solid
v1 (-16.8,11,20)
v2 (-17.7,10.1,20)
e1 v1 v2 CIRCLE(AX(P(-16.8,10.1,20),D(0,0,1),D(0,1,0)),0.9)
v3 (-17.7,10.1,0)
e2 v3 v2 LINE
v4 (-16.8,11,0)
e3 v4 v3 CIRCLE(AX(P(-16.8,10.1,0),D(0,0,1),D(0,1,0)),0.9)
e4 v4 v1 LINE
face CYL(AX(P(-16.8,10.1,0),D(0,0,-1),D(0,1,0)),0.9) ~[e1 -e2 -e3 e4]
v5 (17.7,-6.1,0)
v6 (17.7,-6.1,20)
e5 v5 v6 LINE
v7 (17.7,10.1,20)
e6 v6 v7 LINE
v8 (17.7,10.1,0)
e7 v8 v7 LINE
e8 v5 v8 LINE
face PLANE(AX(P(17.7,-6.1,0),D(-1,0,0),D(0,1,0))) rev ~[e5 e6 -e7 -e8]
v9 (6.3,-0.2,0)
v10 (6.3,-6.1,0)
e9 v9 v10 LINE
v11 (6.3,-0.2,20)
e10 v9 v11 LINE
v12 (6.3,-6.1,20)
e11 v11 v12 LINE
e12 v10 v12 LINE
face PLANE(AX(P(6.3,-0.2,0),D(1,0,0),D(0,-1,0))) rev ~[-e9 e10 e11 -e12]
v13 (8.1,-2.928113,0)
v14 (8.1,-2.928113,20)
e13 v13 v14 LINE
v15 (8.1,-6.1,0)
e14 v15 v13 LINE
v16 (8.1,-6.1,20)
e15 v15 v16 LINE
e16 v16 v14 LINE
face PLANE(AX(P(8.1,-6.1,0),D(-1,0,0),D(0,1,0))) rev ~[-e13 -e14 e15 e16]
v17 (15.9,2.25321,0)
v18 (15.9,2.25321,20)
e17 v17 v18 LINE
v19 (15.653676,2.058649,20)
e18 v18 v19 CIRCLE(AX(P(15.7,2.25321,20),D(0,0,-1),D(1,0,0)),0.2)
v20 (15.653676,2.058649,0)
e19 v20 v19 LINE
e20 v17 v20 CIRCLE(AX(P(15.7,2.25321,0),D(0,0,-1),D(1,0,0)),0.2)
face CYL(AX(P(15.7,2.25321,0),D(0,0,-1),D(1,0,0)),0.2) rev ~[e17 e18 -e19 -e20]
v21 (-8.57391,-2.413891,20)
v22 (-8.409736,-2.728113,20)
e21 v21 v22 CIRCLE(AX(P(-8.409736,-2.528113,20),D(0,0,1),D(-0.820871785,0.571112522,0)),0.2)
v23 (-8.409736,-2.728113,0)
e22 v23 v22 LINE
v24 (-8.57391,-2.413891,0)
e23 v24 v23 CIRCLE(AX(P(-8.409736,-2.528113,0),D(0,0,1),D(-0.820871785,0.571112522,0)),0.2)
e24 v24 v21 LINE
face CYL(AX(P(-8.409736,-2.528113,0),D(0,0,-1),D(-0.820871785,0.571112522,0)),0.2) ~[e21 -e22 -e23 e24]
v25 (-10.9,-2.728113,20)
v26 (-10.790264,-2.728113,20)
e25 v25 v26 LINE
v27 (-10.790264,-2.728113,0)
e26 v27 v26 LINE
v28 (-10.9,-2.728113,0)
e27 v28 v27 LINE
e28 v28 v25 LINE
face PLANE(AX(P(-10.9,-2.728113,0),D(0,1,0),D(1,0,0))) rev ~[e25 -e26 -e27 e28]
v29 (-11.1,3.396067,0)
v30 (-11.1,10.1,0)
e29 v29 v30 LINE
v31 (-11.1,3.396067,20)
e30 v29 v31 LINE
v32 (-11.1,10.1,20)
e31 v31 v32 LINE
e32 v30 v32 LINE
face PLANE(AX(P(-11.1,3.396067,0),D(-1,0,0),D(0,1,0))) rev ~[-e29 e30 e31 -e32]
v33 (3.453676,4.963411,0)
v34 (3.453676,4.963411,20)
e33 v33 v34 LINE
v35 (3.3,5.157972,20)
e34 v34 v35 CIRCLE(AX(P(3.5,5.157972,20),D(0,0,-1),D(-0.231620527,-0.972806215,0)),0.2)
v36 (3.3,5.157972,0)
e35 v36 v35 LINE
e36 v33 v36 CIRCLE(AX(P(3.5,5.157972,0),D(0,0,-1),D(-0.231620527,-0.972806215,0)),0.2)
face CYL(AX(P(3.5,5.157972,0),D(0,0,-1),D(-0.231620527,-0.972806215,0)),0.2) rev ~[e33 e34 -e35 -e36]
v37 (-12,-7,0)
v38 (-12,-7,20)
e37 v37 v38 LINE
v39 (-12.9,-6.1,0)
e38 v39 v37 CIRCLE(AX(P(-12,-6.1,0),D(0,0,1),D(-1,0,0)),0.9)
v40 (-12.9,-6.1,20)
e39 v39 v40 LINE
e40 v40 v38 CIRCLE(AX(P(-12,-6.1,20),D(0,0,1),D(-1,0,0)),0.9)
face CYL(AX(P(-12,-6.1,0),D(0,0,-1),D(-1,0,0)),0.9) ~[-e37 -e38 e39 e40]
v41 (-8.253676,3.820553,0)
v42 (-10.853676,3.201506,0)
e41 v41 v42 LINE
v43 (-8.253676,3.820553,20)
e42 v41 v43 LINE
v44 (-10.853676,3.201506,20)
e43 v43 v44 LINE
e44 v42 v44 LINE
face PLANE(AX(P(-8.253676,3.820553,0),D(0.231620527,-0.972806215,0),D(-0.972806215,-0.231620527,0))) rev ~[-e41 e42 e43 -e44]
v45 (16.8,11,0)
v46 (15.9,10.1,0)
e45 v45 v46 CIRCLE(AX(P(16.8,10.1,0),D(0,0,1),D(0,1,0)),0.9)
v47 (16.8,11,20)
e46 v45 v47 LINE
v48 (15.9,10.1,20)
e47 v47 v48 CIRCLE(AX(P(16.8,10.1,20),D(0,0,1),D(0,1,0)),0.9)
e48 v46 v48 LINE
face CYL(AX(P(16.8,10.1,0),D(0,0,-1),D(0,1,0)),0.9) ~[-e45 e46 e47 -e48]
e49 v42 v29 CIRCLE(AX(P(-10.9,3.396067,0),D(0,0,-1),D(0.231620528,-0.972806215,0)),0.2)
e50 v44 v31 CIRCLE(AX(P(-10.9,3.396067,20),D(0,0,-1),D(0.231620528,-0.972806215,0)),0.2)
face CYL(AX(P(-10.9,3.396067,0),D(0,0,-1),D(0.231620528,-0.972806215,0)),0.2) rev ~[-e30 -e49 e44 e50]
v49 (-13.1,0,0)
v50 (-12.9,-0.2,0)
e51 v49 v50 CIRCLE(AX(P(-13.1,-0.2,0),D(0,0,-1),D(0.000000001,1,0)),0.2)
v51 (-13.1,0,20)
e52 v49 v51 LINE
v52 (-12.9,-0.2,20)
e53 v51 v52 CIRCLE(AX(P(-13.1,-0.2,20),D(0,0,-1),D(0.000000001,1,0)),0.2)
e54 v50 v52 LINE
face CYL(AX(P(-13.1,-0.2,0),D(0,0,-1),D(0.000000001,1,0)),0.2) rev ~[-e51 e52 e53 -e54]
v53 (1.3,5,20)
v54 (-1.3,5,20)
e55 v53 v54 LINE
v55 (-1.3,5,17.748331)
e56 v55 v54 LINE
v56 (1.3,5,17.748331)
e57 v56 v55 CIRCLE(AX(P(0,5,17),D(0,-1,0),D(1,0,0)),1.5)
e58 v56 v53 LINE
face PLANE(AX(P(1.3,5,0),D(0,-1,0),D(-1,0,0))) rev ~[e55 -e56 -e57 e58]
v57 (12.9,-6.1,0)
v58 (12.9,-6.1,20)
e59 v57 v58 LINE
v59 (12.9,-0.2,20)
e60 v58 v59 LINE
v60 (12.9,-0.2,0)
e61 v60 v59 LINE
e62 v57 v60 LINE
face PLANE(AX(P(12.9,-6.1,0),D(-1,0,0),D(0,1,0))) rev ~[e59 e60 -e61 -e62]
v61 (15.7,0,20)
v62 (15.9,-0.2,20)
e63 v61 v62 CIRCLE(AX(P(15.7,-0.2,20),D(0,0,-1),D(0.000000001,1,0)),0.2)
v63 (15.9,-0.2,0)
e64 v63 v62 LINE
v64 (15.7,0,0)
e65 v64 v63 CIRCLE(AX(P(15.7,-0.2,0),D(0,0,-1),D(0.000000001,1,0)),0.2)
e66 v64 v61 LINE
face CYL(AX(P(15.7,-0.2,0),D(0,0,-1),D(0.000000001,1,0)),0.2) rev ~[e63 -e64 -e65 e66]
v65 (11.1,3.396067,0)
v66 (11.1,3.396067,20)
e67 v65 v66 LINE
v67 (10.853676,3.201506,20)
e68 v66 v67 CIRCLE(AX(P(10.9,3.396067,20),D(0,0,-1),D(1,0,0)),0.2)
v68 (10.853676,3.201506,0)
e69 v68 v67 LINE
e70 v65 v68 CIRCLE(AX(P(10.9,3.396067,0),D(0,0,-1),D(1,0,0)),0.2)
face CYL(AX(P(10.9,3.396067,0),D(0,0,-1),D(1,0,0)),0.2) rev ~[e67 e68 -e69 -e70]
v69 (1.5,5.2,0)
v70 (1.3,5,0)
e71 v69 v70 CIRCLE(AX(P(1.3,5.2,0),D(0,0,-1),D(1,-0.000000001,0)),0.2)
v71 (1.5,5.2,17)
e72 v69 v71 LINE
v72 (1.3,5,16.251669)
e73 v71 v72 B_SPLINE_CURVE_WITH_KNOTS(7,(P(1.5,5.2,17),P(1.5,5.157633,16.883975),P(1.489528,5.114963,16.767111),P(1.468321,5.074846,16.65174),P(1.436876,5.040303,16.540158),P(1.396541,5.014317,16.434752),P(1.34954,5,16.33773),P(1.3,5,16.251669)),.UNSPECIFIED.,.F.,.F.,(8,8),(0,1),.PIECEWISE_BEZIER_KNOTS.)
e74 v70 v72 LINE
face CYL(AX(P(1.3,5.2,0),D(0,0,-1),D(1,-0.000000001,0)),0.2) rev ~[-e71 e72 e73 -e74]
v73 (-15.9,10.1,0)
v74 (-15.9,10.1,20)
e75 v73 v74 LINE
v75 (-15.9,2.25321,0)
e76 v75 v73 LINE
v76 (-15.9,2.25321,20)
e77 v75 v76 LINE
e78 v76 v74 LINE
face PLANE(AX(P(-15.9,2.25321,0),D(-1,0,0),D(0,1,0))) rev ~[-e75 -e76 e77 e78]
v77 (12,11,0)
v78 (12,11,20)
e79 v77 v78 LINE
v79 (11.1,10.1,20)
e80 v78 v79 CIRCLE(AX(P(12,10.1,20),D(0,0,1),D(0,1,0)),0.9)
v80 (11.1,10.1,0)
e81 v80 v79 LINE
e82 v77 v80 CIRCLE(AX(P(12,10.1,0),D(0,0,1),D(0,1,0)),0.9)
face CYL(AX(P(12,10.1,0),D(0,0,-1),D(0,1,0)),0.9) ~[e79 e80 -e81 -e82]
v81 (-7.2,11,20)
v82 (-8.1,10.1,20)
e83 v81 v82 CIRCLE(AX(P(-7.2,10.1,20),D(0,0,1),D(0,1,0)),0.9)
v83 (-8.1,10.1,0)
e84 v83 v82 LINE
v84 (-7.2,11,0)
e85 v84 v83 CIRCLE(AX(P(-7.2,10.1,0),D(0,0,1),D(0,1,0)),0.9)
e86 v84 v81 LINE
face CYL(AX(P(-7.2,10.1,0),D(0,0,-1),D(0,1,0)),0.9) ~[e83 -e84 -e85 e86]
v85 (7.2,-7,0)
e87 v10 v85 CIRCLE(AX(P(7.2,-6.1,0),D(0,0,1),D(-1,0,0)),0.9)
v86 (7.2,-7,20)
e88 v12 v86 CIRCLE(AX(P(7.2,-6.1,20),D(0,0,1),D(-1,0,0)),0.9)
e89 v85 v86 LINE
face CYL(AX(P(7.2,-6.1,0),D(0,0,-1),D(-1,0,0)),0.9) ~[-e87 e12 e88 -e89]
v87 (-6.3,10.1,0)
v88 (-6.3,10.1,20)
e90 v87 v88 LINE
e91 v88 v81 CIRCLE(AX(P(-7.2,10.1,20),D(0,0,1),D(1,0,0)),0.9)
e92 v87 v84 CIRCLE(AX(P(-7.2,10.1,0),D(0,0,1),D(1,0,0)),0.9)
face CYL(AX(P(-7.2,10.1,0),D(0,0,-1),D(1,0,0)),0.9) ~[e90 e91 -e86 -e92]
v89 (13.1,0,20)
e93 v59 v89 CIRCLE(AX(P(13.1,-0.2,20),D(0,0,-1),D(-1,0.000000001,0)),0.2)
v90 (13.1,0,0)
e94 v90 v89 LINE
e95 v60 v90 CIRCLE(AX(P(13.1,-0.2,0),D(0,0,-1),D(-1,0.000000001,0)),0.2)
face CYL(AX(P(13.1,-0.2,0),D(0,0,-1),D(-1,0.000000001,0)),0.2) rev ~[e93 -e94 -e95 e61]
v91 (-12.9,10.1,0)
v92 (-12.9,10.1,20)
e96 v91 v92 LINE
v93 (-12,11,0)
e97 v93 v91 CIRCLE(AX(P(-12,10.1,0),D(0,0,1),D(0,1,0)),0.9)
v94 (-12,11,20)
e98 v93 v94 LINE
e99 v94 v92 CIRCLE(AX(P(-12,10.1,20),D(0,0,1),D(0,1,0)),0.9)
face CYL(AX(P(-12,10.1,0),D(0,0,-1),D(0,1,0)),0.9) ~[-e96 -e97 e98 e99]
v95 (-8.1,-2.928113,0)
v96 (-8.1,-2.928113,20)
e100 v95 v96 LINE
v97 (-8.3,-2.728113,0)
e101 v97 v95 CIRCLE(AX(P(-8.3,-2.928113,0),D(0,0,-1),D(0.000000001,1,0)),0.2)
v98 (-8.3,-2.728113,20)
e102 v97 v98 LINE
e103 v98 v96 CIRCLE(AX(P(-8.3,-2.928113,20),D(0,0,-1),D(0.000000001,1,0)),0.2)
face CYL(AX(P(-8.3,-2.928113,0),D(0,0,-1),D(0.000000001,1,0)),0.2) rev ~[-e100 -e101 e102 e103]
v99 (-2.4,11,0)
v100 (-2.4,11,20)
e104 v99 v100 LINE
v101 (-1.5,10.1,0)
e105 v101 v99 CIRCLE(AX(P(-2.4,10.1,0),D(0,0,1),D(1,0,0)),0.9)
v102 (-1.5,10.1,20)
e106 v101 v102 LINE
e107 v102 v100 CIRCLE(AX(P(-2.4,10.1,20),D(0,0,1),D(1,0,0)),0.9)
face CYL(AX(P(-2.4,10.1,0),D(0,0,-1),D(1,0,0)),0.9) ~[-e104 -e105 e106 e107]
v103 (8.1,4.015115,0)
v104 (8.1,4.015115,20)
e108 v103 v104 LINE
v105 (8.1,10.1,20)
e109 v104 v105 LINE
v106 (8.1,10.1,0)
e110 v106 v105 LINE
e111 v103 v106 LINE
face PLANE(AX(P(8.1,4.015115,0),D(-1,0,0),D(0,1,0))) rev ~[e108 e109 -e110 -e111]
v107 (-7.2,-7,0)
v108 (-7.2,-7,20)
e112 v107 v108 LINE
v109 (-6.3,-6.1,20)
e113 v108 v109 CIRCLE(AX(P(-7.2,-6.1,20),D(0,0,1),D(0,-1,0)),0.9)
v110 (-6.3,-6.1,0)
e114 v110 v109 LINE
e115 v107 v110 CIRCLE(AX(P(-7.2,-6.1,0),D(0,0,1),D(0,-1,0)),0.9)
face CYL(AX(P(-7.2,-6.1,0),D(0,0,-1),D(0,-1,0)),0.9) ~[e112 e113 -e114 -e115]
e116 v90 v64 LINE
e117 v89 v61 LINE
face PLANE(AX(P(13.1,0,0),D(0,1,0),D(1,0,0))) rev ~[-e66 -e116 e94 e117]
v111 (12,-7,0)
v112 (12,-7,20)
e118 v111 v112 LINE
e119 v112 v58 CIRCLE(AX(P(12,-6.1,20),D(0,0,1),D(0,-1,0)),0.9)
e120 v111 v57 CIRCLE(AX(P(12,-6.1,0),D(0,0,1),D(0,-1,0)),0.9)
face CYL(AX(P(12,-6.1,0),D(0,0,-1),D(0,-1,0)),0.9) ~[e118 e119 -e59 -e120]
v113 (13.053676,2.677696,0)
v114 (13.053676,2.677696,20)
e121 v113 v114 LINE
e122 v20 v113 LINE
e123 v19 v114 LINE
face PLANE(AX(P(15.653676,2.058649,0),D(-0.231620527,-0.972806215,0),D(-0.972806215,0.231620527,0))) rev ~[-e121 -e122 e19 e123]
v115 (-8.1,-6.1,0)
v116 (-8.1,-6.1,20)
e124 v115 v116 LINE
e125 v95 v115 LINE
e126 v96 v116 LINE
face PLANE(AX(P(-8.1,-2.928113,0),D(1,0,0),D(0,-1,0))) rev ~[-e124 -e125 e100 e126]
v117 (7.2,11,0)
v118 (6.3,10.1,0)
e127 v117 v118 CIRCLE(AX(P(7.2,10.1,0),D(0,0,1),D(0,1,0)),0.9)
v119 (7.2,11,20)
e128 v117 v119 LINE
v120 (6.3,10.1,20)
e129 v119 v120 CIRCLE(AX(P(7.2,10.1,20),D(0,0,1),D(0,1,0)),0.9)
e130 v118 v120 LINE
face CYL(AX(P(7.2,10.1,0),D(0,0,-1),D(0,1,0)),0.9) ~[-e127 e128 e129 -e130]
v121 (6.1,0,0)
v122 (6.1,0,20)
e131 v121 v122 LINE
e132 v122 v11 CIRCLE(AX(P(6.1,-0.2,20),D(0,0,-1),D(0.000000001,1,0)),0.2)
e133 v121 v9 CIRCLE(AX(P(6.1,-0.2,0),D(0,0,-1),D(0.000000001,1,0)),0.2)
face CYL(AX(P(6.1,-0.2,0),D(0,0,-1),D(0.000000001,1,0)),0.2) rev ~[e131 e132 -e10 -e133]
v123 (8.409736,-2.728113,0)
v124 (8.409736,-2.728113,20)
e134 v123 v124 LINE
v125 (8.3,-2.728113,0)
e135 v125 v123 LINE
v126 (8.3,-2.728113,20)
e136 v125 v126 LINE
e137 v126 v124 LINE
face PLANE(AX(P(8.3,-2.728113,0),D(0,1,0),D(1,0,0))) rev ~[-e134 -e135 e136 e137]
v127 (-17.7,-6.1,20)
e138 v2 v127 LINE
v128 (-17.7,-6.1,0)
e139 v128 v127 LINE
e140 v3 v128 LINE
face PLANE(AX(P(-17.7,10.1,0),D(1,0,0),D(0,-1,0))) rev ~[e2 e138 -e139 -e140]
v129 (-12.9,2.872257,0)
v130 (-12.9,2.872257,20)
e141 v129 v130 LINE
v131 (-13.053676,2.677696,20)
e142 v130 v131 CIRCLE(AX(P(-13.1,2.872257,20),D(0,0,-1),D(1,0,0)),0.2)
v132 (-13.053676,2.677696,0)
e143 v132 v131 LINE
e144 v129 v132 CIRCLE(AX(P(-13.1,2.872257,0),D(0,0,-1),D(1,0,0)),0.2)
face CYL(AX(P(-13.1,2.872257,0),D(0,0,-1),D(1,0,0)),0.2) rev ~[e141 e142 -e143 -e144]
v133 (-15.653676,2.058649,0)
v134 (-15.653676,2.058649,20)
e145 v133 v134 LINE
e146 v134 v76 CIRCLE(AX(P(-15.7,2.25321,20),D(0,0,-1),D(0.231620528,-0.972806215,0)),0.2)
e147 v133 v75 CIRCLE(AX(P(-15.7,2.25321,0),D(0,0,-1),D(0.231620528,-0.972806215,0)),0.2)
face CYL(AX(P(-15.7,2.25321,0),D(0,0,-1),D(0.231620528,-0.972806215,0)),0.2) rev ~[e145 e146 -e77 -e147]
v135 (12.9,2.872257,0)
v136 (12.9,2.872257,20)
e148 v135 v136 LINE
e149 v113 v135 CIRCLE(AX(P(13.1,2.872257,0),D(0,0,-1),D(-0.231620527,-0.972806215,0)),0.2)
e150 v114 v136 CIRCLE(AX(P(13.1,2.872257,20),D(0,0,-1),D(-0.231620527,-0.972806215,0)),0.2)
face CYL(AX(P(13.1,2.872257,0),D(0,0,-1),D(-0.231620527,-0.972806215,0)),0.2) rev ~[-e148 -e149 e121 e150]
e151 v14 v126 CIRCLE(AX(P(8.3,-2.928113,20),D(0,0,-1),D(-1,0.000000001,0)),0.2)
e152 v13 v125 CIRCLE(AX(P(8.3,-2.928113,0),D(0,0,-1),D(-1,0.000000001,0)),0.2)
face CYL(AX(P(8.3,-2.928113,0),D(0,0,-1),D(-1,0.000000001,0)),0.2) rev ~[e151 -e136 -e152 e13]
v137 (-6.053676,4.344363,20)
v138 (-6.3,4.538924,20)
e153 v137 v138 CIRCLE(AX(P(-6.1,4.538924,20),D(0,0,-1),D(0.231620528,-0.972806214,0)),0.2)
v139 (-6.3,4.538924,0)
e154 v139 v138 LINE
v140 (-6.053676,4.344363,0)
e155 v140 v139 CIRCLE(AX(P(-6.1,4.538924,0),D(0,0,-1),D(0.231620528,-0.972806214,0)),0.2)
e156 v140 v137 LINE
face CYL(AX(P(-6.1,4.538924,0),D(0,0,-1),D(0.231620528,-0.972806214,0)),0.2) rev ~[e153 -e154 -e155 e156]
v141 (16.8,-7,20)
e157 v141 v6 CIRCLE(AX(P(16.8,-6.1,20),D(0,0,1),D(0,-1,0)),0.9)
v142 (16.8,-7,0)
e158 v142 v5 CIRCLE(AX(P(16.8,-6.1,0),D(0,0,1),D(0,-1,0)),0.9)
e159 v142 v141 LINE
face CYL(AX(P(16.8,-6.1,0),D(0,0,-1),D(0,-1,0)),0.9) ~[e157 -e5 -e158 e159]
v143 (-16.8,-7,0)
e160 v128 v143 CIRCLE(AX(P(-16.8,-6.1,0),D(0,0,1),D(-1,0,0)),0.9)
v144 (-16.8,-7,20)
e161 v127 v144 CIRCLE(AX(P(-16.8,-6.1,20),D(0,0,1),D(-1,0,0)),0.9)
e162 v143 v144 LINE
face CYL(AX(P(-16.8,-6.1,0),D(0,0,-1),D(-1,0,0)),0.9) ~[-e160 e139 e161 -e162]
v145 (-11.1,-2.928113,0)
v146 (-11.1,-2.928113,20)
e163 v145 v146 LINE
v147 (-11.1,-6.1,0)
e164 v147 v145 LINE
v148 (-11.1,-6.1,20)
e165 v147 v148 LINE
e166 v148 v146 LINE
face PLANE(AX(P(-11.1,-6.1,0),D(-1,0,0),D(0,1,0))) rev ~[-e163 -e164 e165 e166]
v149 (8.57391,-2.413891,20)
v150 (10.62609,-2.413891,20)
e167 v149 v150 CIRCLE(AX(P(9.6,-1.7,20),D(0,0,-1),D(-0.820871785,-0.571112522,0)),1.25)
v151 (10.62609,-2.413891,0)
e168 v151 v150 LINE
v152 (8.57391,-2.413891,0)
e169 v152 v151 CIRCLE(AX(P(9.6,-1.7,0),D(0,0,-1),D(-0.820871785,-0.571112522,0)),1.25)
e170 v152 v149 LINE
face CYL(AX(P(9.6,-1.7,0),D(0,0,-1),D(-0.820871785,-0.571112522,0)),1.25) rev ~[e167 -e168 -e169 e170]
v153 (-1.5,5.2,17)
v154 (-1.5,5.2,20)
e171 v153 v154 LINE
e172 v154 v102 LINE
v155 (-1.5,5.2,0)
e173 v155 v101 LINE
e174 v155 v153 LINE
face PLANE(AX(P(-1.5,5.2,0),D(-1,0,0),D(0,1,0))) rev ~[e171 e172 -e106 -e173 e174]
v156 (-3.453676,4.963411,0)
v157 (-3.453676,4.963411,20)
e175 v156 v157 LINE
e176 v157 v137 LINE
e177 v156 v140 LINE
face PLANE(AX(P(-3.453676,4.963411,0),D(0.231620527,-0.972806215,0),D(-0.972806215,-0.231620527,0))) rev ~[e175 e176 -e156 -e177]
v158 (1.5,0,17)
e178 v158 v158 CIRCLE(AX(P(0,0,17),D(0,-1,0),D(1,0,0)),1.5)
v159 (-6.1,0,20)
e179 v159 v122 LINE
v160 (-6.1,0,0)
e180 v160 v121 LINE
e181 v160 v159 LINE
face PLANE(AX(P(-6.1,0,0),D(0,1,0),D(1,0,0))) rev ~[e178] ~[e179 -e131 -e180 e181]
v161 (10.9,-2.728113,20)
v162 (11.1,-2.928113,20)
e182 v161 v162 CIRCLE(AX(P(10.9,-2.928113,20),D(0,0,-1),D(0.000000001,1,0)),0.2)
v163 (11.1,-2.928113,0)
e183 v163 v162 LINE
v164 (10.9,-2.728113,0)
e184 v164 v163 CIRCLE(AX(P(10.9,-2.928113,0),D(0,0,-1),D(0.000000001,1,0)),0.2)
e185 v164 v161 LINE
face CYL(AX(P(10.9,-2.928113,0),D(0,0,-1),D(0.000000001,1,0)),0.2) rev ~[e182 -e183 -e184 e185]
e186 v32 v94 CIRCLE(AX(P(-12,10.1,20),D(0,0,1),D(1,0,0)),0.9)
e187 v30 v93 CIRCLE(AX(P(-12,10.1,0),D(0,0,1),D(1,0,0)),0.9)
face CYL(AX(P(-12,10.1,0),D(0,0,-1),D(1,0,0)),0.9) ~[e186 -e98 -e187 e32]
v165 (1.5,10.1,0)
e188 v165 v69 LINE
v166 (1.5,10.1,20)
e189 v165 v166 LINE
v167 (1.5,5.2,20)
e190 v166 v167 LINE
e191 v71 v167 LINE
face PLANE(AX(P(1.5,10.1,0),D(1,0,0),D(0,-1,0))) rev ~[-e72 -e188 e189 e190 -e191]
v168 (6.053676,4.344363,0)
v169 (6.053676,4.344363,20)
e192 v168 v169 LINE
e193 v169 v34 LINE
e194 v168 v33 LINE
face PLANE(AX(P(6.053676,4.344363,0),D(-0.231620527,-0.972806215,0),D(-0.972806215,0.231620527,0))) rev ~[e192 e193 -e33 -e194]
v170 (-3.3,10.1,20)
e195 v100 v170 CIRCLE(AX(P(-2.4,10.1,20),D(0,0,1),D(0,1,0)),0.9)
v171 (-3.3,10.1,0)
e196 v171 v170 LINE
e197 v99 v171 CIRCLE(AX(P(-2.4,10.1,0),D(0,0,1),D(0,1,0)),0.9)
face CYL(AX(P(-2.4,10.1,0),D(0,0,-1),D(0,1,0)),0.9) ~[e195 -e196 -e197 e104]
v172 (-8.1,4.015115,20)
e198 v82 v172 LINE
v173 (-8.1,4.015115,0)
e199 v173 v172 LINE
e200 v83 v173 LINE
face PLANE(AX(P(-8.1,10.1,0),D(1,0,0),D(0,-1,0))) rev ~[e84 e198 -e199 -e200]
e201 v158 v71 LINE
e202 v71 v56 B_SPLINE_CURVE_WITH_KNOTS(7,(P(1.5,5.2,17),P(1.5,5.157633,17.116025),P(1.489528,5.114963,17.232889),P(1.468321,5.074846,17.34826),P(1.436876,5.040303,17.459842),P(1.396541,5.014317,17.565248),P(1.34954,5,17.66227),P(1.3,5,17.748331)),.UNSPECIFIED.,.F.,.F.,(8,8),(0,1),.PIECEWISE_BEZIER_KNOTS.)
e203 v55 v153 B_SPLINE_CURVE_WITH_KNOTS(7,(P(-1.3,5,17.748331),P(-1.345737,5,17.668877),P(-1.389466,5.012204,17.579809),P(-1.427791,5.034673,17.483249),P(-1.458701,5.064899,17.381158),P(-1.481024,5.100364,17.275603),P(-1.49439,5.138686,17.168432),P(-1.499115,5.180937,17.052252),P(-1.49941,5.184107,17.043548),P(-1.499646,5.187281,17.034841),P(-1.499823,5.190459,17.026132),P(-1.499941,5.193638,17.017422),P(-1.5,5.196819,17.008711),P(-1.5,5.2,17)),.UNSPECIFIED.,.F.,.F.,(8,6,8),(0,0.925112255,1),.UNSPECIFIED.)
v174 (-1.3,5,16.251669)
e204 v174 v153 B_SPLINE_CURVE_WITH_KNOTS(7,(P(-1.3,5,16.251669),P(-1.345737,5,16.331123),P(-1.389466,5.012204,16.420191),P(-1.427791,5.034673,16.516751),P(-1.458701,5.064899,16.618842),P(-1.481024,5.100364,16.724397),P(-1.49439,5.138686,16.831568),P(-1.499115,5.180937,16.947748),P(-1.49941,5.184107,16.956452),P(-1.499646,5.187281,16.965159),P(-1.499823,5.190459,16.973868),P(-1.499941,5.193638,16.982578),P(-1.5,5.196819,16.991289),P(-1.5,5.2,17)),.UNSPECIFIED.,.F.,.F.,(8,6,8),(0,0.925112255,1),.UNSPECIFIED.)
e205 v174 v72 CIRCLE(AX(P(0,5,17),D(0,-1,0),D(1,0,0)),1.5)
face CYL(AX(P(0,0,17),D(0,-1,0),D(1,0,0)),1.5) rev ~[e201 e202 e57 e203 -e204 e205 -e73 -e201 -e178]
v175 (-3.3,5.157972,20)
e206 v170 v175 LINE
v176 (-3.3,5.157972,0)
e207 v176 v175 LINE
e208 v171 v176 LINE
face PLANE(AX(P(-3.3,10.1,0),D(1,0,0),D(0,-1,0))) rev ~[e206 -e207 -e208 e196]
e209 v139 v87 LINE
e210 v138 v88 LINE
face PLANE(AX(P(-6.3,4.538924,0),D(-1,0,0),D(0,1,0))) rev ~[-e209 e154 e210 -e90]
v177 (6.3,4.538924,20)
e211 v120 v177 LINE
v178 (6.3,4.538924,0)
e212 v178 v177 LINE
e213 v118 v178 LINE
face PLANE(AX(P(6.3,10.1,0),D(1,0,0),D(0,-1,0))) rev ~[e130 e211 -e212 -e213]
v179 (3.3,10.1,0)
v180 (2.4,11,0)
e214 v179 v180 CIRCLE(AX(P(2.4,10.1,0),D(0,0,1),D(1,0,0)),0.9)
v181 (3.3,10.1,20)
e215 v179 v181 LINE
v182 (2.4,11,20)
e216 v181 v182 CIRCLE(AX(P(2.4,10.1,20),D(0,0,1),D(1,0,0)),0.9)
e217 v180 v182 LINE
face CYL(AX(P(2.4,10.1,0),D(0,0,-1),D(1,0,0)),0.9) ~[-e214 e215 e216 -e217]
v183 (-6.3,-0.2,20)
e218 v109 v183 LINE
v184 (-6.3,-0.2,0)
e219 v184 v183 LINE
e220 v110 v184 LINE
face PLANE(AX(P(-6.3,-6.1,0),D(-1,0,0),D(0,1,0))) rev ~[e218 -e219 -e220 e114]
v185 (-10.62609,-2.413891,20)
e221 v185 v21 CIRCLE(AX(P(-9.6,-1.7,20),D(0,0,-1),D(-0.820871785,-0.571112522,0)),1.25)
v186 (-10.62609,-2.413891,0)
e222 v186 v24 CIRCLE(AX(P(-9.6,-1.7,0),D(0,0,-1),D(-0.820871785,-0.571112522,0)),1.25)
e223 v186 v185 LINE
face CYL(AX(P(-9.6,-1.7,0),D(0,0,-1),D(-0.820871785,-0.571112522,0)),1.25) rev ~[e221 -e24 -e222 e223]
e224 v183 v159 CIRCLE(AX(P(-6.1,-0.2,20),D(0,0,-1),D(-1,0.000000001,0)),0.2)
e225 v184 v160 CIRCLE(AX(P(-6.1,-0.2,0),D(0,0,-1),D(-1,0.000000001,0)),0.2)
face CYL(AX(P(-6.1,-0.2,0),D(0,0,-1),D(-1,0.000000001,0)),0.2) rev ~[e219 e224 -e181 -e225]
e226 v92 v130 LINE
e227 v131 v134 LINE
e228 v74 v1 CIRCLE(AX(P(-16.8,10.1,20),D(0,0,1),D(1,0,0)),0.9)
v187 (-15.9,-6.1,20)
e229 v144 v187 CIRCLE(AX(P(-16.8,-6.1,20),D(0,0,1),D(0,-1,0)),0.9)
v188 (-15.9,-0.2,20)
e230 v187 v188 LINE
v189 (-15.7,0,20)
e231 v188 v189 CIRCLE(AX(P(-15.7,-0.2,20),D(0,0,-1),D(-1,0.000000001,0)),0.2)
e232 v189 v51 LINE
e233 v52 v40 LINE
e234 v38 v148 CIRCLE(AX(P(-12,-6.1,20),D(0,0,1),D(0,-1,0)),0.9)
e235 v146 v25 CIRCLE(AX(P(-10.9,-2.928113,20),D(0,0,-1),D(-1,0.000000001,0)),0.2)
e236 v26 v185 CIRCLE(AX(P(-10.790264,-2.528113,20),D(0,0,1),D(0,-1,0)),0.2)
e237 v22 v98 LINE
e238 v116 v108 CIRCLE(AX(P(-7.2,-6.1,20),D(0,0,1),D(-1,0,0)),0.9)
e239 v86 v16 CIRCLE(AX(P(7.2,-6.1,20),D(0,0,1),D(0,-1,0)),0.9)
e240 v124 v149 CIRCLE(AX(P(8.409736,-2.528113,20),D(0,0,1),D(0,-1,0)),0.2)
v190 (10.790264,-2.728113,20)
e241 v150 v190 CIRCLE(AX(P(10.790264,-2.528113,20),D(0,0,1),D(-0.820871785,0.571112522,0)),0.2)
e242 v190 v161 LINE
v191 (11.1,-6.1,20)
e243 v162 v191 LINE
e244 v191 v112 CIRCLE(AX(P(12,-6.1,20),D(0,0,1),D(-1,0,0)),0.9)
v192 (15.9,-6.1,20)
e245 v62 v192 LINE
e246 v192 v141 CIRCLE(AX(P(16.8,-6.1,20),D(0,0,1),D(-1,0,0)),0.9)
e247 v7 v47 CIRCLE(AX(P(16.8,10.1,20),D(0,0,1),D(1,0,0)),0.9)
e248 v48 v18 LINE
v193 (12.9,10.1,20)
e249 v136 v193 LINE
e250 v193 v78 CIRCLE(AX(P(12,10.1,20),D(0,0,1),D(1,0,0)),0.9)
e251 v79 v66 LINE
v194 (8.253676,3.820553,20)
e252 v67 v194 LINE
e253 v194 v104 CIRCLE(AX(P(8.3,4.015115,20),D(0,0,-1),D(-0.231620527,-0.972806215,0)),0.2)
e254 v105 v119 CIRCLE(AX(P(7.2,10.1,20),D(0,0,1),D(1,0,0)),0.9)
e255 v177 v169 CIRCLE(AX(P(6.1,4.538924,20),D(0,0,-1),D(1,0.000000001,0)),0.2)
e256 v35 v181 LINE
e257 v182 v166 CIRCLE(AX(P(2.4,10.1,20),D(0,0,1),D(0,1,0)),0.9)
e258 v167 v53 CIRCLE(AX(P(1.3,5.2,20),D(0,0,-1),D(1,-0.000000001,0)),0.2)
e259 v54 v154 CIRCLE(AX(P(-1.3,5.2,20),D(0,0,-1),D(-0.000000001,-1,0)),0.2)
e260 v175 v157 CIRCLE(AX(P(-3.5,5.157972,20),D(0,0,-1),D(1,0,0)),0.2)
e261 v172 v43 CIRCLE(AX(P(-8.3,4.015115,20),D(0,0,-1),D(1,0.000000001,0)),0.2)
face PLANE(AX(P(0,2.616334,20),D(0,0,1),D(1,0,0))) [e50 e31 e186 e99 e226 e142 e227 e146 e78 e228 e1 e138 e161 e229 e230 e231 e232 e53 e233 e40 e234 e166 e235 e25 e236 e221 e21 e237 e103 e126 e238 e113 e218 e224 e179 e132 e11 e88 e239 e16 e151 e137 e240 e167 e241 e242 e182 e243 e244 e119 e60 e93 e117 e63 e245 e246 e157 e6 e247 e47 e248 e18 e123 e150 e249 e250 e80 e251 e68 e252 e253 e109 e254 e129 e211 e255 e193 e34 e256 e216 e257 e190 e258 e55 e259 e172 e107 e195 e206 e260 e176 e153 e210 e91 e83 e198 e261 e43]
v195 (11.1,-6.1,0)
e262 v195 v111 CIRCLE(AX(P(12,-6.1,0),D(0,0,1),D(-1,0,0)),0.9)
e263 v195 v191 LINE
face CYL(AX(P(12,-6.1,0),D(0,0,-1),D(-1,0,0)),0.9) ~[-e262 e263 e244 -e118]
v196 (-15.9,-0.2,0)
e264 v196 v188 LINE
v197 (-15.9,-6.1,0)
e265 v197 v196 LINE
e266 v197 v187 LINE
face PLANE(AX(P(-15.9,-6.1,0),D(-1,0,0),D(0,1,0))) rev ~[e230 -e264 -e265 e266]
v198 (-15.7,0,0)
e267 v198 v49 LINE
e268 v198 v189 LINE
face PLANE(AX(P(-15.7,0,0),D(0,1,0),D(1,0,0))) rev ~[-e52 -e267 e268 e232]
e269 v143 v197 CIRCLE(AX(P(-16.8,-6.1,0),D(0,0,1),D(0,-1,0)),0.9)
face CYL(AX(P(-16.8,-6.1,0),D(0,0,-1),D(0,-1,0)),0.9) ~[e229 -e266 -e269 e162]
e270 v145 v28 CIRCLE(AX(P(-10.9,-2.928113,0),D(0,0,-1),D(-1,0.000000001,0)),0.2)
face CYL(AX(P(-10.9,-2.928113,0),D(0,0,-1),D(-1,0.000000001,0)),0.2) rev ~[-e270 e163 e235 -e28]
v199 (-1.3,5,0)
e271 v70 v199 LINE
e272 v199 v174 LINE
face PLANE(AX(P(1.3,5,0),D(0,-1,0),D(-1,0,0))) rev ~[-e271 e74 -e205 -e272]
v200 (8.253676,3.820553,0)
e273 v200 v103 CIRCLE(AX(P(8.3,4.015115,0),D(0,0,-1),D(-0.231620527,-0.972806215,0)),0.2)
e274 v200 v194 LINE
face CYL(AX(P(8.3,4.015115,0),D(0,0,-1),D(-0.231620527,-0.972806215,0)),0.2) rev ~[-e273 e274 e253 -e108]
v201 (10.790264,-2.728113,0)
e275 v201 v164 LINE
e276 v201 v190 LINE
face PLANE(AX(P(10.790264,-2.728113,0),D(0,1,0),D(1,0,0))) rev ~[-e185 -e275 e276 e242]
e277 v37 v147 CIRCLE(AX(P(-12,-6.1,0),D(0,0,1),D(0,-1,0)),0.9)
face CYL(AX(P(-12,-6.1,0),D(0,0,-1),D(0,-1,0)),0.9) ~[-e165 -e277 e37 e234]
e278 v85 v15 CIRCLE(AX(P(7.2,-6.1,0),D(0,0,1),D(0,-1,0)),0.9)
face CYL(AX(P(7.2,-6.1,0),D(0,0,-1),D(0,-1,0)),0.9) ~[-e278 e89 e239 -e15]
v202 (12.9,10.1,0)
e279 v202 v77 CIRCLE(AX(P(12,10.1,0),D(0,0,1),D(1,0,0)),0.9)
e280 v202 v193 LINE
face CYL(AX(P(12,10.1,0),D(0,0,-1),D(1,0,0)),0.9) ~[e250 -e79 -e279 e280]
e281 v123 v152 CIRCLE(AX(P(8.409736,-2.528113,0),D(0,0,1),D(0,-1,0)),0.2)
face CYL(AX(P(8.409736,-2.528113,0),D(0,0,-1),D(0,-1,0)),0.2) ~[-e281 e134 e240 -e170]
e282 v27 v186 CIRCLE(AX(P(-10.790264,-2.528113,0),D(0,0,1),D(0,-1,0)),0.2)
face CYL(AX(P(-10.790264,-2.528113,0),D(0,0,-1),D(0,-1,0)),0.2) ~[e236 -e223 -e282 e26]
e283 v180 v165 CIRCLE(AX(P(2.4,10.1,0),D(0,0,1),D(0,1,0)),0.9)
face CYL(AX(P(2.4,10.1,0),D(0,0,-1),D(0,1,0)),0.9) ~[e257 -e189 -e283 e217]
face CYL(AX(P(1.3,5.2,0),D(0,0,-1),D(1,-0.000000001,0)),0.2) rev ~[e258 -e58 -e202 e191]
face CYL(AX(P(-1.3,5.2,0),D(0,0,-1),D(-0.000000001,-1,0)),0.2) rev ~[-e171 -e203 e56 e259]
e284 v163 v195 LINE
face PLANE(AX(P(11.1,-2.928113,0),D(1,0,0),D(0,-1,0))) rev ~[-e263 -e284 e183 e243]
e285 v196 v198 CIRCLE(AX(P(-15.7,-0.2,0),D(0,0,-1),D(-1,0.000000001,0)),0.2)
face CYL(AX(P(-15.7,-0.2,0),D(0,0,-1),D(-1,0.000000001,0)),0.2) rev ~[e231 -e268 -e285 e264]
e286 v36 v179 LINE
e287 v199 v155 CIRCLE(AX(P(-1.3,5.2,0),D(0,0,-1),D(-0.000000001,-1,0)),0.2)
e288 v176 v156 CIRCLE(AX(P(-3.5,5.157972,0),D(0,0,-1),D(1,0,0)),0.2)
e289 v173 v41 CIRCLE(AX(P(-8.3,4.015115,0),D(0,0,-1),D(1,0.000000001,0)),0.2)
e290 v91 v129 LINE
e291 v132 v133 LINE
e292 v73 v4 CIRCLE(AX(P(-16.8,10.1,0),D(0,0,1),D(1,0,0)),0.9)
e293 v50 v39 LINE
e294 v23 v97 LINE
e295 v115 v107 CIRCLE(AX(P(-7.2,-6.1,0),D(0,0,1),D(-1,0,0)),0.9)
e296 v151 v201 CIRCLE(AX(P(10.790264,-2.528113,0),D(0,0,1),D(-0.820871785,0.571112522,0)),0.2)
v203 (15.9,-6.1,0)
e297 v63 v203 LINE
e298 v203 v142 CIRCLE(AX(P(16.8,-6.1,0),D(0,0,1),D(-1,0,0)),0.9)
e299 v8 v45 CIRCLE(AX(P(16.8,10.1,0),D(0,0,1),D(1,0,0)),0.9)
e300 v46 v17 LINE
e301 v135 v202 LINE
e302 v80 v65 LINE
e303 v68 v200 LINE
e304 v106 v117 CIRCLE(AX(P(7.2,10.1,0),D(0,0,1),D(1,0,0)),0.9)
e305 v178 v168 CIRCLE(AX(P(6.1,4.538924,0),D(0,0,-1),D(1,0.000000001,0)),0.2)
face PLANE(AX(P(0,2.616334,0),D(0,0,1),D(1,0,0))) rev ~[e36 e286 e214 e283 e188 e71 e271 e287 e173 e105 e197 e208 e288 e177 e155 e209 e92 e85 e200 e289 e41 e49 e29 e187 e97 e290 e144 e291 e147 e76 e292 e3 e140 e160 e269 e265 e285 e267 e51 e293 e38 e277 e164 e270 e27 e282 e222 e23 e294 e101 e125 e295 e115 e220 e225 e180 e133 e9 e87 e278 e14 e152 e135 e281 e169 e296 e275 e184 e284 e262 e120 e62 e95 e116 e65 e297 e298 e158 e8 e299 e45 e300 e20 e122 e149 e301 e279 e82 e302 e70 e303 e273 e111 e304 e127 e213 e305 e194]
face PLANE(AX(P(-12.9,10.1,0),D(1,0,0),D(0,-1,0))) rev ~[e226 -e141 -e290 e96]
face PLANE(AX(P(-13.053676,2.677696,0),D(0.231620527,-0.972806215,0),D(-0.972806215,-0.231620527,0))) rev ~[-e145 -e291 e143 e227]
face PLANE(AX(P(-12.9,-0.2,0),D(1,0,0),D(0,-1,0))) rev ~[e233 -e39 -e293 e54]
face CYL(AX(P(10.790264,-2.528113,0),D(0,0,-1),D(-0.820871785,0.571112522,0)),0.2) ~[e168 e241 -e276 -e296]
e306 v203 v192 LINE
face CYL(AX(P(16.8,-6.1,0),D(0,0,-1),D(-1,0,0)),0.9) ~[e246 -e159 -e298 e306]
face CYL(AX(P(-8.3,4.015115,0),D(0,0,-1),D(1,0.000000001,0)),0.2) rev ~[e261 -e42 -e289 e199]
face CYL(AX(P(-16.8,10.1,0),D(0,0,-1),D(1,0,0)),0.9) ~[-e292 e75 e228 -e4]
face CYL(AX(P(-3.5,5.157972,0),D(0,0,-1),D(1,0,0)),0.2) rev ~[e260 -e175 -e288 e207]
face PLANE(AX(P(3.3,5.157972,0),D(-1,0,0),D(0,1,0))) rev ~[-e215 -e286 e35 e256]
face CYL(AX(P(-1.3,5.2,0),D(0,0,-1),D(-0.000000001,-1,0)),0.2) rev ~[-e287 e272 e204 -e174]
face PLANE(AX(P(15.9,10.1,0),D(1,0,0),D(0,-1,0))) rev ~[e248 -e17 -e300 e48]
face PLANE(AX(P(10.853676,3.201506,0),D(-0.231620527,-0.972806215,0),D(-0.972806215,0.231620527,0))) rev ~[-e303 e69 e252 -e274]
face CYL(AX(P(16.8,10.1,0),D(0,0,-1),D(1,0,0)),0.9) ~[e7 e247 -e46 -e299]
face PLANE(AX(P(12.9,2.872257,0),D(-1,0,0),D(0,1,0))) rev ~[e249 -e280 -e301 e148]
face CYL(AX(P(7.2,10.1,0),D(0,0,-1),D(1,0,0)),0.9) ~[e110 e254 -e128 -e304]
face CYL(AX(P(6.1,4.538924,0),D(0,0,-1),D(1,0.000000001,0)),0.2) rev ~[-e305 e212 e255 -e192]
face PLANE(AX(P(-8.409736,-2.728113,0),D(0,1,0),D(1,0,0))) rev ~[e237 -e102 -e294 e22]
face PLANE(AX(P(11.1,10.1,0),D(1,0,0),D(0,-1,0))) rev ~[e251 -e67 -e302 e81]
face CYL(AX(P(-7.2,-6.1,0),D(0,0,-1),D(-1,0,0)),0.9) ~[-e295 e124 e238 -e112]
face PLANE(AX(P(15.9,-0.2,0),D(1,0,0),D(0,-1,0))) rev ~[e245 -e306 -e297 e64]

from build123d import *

# Parameters (mm, degrees)
F1_DEPTH = 20
F2_R     = 1.5
F3_DEPTH = 5.2010001


with BuildPart() as f1:
    # F0 (on Top) → F1 (new body)
    with BuildSketch(Plane.XY):
        with BuildLine():
            Line((-17.7, 10.1), (-17.7, 0))
            Line((-17.7, 0), (-17.7, -6.1))
            ThreePointArc((-17.7, -6.1), (-17.4363961031, -6.7363961031), (-16.8, -7))
            ThreePointArc((-16.8, -7), (-16.1636038969, -6.7363961031), (-15.9, -6.1))
            Line((-15.9, -6.1), (-15.9, -2.9281131564))
            Line((-15.9, -2.9281131564), (-15.9, -0.2))
            ThreePointArc((-15.9, -0.2), (-15.8414213562, -0.0585786438), (-15.7, 0))
            Line((-15.7, 0), (-13.1, 0))
            ThreePointArc((-13.1, 0), (-12.9585786438, -0.0585786438), (-12.9, -0.2))
            Line((-12.9, -0.2), (-12.9, -2.9281131564))
            Line((-12.9, -2.9281131564), (-12.9, -6.1))
            ThreePointArc((-12.9, -6.1), (-12.6363961031, -6.7363961031), (-12, -7))
            ThreePointArc((-12, -7), (-11.3636038969, -6.7363961031), (-11.1, -6.1))
            Line((-11.1, -6.1), (-11.1, -2.9281131564))
            ThreePointArc((-11.1, -2.9281131564), (-11.0414213562, -2.7866918002), (-10.9, -2.7281131564))
            Line((-10.9, -2.7281131564), (-10.7902640884, -2.7281131564))
            ThreePointArc((-10.7902640884, -2.7281131564), (-10.6130008648, -2.6207292974), (-10.6260897314, -2.4138906521))
            ThreePointArc((-10.6260897314, -2.4138906521), (-9.6, -0.45), (-8.5739102686, -2.4138906521))
            ThreePointArc((-8.5739102686, -2.4138906521), (-8.5869991352, -2.6207292974), (-8.4097359116, -2.7281131564))
            Line((-8.4097359116, -2.7281131564), (-8.3, -2.7281131564))
            ThreePointArc((-8.3, -2.7281131564), (-8.1585786438, -2.7866918002), (-8.1, -2.9281131564))
            Line((-8.1, -2.9281131564), (-8.1, -6.1))
            ThreePointArc((-8.1, -6.1), (-7.8363961031, -6.7363961031), (-7.2, -7))
            ThreePointArc((-7.2, -7), (-6.5636038969, -6.7363961031), (-6.3, -6.1))
            Line((-6.3, -6.1), (-6.3, -0.2))
            ThreePointArc((-6.3, -0.2), (-6.2414213562, -0.0585786438), (-6.1, 0))
            Line((-6.1, 0), (6.1, 0))
            ThreePointArc((6.1, 0), (6.2414213562, -0.0585786438), (6.3, -0.2))
            Line((6.3, -0.2), (6.3, -6.1))
            ThreePointArc((6.3, -6.1), (6.5636038969, -6.7363961031), (7.2, -7))
            ThreePointArc((7.2, -7), (7.8363961031, -6.7363961031), (8.1, -6.1))
            Line((8.1, -6.1), (8.1, -2.9281131564))
            ThreePointArc((8.1, -2.9281131564), (8.1585786438, -2.7866918002), (8.3, -2.7281131564))
            Line((8.3, -2.7281131564), (8.4097359116, -2.7281131564))
            ThreePointArc((8.4097359116, -2.7281131564), (8.5869991352, -2.6207292974), (8.5739102686, -2.4138906521))
            ThreePointArc((8.5739102686, -2.4138906521), (9.6, -0.45), (10.6260897314, -2.4138906521))
            ThreePointArc((10.6260897314, -2.4138906521), (10.6130008648, -2.6207292974), (10.7902640884, -2.7281131564))
            Line((10.7902640884, -2.7281131564), (10.9, -2.7281131564))
            ThreePointArc((10.9, -2.7281131564), (11.0414213562, -2.7866918002), (11.1, -2.9281131564))
            Line((11.1, -2.9281131564), (11.1, -6.1))
            ThreePointArc((11.1, -6.1), (11.3636038969, -6.7363961031), (12, -7))
            ThreePointArc((12, -7), (12.6363961031, -6.7363961031), (12.9, -6.1))
            Line((12.9, -6.1), (12.9, -2.9281131564))
            Line((12.9, -2.9281131564), (12.9, -0.2))
            ThreePointArc((12.9, -0.2), (12.9585786438, -0.0585786438), (13.1, 0))
            Line((13.1, 0), (15.7, 0))
            ThreePointArc((15.7, 0), (15.8414213562, -0.0585786438), (15.9, -0.2))
            Line((15.9, -0.2), (15.9, -2.9281131564))
            Line((15.9, -2.9281131564), (15.9, -6.1))
            ThreePointArc((15.9, -6.1), (16.1636038969, -6.7363961031), (16.8, -7))
            ThreePointArc((16.8, -7), (17.4363961031, -6.7363961031), (17.7, -6.1))
            Line((17.7, -6.1), (17.7, 0))
            Line((17.7, 0), (17.7, 10.1))
            ThreePointArc((17.7, 10.1), (17.4363961031, 10.7363961031), (16.8, 11))
            ThreePointArc((16.8, 11), (16.1636038969, 10.7363961031), (15.9, 10.1))
            Line((15.9, 10.1), (15.9, 2.2532098395))
            ThreePointArc((15.9, 2.2532098395), (15.8239660819, 2.096262681), (15.6536758945, 2.0586485965))
            Line((15.6536758945, 2.0586485965), (13.0536758945, 2.6776962156))
            ThreePointArc((13.0536758945, 2.6776962156), (12.9430528415, 2.7482913767), (12.9, 2.8722574585))
            Line((12.9, 2.8722574585), (12.9, 10.1))
            ThreePointArc((12.9, 10.1), (12.6363961031, 10.7363961031), (12, 11))
            ThreePointArc((12, 11), (11.3636038969, 10.7363961031), (11.1, 10.1))
            Line((11.1, 10.1), (11.1, 3.3960669823))
            ThreePointArc((11.1, 3.3960669823), (11.0239660819, 3.2391198239), (10.8536758945, 3.2015057394))
            Line((10.8536758945, 3.2015057394), (8.2536758945, 3.8205533584))
            ThreePointArc((8.2536758945, 3.8205533584), (8.1430528415, 3.8911485195), (8.1, 4.0151146014))
            Line((8.1, 4.0151146014), (8.1, 10.1))
            ThreePointArc((8.1, 10.1), (7.8363961031, 10.7363961031), (7.2, 11))
            ThreePointArc((7.2, 11), (6.5636038969, 10.7363961031), (6.3, 10.1))
            Line((6.3, 10.1), (6.3, 4.5389241252))
            ThreePointArc((6.3, 4.5389241252), (6.2239660819, 4.3819769667), (6.0536758945, 4.3443628823))
            Line((6.0536758945, 4.3443628823), (3.4536758945, 4.9634105013))
            ThreePointArc((3.4536758945, 4.9634105013), (3.3430528415, 5.0340056624), (3.3, 5.1579717442))
            Line((3.3, 5.1579717442), (3.3, 10.1))
            ThreePointArc((3.3, 10.1), (3.0363961031, 10.7363961031), (2.4, 11))
            ThreePointArc((2.4, 11), (1.7636038969, 10.7363961031), (1.5, 10.1))
            Line((1.5, 10.1), (1.5, 5.2))
            ThreePointArc((1.5, 5.2), (1.4414213562, 5.0585786438), (1.3, 5))
            Line((1.3, 5), (-1.3, 5))
            ThreePointArc((-1.3, 5), (-1.4414213562, 5.0585786438), (-1.5, 5.2))
            Line((-1.5, 5.2), (-1.5, 10.1))
            ThreePointArc((-1.5, 10.1), (-1.7636038969, 10.7363961031), (-2.4, 11))
            ThreePointArc((-2.4, 11), (-3.0363961031, 10.7363961031), (-3.3, 10.1))
            Line((-3.3, 10.1), (-3.3, 5.1579717442))
            ThreePointArc((-3.3, 5.1579717442), (-3.3430528415, 5.0340056624), (-3.4536758945, 4.9634105013))
            Line((-3.4536758945, 4.9634105013), (-6.0536758945, 4.3443628823))
            ThreePointArc((-6.0536758945, 4.3443628823), (-6.2239660819, 4.3819769667), (-6.3, 4.5389241252))
            Line((-6.3, 4.5389241252), (-6.3, 10.1))
            ThreePointArc((-6.3, 10.1), (-6.5636038969, 10.7363961031), (-7.2, 11))
            ThreePointArc((-7.2, 11), (-7.8363961031, 10.7363961031), (-8.1, 10.1))
            Line((-8.1, 10.1), (-8.1, 4.0151146014))
            ThreePointArc((-8.1, 4.0151146014), (-8.1430528415, 3.8911485195), (-8.2536758945, 3.8205533584))
            Line((-8.2536758945, 3.8205533584), (-10.8536758945, 3.2015057394))
            ThreePointArc((-10.8536758945, 3.2015057394), (-11.0239660819, 3.2391198239), (-11.1, 3.3960669823))
            Line((-11.1, 3.3960669823), (-11.1, 10.1))
            ThreePointArc((-11.1, 10.1), (-11.3636038969, 10.7363961031), (-12, 11))
            ThreePointArc((-12, 11), (-12.6363961031, 10.7363961031), (-12.9, 10.1))
            Line((-12.9, 10.1), (-12.9, 2.8722574585))
            ThreePointArc((-12.9, 2.8722574585), (-12.9430528415, 2.7482913767), (-13.0536758945, 2.6776962156))
            Line((-13.0536758945, 2.6776962156), (-15.6536758945, 2.0586485965))
            ThreePointArc((-15.6536758945, 2.0586485965), (-15.8239660819, 2.096262681), (-15.9, 2.2532098395))
            Line((-15.9, 2.2532098395), (-15.9, 10.1))
            ThreePointArc((-15.9, 10.1), (-16.1636038969, 10.7363961031), (-16.8, 11))
            ThreePointArc((-16.8, 11), (-17.4363961031, 10.7363961031), (-17.7, 10.1))
        make_face()
    extrude(amount=F1_DEPTH)

    # F2 (on face) → F3 (cut, through all)
    with BuildSketch(Plane.XZ):
        with Locations((0, 17)):
            Circle(F2_R)
    extrude(amount=-F3_DEPTH, mode=Mode.SUBTRACT)


solid = f1.part
